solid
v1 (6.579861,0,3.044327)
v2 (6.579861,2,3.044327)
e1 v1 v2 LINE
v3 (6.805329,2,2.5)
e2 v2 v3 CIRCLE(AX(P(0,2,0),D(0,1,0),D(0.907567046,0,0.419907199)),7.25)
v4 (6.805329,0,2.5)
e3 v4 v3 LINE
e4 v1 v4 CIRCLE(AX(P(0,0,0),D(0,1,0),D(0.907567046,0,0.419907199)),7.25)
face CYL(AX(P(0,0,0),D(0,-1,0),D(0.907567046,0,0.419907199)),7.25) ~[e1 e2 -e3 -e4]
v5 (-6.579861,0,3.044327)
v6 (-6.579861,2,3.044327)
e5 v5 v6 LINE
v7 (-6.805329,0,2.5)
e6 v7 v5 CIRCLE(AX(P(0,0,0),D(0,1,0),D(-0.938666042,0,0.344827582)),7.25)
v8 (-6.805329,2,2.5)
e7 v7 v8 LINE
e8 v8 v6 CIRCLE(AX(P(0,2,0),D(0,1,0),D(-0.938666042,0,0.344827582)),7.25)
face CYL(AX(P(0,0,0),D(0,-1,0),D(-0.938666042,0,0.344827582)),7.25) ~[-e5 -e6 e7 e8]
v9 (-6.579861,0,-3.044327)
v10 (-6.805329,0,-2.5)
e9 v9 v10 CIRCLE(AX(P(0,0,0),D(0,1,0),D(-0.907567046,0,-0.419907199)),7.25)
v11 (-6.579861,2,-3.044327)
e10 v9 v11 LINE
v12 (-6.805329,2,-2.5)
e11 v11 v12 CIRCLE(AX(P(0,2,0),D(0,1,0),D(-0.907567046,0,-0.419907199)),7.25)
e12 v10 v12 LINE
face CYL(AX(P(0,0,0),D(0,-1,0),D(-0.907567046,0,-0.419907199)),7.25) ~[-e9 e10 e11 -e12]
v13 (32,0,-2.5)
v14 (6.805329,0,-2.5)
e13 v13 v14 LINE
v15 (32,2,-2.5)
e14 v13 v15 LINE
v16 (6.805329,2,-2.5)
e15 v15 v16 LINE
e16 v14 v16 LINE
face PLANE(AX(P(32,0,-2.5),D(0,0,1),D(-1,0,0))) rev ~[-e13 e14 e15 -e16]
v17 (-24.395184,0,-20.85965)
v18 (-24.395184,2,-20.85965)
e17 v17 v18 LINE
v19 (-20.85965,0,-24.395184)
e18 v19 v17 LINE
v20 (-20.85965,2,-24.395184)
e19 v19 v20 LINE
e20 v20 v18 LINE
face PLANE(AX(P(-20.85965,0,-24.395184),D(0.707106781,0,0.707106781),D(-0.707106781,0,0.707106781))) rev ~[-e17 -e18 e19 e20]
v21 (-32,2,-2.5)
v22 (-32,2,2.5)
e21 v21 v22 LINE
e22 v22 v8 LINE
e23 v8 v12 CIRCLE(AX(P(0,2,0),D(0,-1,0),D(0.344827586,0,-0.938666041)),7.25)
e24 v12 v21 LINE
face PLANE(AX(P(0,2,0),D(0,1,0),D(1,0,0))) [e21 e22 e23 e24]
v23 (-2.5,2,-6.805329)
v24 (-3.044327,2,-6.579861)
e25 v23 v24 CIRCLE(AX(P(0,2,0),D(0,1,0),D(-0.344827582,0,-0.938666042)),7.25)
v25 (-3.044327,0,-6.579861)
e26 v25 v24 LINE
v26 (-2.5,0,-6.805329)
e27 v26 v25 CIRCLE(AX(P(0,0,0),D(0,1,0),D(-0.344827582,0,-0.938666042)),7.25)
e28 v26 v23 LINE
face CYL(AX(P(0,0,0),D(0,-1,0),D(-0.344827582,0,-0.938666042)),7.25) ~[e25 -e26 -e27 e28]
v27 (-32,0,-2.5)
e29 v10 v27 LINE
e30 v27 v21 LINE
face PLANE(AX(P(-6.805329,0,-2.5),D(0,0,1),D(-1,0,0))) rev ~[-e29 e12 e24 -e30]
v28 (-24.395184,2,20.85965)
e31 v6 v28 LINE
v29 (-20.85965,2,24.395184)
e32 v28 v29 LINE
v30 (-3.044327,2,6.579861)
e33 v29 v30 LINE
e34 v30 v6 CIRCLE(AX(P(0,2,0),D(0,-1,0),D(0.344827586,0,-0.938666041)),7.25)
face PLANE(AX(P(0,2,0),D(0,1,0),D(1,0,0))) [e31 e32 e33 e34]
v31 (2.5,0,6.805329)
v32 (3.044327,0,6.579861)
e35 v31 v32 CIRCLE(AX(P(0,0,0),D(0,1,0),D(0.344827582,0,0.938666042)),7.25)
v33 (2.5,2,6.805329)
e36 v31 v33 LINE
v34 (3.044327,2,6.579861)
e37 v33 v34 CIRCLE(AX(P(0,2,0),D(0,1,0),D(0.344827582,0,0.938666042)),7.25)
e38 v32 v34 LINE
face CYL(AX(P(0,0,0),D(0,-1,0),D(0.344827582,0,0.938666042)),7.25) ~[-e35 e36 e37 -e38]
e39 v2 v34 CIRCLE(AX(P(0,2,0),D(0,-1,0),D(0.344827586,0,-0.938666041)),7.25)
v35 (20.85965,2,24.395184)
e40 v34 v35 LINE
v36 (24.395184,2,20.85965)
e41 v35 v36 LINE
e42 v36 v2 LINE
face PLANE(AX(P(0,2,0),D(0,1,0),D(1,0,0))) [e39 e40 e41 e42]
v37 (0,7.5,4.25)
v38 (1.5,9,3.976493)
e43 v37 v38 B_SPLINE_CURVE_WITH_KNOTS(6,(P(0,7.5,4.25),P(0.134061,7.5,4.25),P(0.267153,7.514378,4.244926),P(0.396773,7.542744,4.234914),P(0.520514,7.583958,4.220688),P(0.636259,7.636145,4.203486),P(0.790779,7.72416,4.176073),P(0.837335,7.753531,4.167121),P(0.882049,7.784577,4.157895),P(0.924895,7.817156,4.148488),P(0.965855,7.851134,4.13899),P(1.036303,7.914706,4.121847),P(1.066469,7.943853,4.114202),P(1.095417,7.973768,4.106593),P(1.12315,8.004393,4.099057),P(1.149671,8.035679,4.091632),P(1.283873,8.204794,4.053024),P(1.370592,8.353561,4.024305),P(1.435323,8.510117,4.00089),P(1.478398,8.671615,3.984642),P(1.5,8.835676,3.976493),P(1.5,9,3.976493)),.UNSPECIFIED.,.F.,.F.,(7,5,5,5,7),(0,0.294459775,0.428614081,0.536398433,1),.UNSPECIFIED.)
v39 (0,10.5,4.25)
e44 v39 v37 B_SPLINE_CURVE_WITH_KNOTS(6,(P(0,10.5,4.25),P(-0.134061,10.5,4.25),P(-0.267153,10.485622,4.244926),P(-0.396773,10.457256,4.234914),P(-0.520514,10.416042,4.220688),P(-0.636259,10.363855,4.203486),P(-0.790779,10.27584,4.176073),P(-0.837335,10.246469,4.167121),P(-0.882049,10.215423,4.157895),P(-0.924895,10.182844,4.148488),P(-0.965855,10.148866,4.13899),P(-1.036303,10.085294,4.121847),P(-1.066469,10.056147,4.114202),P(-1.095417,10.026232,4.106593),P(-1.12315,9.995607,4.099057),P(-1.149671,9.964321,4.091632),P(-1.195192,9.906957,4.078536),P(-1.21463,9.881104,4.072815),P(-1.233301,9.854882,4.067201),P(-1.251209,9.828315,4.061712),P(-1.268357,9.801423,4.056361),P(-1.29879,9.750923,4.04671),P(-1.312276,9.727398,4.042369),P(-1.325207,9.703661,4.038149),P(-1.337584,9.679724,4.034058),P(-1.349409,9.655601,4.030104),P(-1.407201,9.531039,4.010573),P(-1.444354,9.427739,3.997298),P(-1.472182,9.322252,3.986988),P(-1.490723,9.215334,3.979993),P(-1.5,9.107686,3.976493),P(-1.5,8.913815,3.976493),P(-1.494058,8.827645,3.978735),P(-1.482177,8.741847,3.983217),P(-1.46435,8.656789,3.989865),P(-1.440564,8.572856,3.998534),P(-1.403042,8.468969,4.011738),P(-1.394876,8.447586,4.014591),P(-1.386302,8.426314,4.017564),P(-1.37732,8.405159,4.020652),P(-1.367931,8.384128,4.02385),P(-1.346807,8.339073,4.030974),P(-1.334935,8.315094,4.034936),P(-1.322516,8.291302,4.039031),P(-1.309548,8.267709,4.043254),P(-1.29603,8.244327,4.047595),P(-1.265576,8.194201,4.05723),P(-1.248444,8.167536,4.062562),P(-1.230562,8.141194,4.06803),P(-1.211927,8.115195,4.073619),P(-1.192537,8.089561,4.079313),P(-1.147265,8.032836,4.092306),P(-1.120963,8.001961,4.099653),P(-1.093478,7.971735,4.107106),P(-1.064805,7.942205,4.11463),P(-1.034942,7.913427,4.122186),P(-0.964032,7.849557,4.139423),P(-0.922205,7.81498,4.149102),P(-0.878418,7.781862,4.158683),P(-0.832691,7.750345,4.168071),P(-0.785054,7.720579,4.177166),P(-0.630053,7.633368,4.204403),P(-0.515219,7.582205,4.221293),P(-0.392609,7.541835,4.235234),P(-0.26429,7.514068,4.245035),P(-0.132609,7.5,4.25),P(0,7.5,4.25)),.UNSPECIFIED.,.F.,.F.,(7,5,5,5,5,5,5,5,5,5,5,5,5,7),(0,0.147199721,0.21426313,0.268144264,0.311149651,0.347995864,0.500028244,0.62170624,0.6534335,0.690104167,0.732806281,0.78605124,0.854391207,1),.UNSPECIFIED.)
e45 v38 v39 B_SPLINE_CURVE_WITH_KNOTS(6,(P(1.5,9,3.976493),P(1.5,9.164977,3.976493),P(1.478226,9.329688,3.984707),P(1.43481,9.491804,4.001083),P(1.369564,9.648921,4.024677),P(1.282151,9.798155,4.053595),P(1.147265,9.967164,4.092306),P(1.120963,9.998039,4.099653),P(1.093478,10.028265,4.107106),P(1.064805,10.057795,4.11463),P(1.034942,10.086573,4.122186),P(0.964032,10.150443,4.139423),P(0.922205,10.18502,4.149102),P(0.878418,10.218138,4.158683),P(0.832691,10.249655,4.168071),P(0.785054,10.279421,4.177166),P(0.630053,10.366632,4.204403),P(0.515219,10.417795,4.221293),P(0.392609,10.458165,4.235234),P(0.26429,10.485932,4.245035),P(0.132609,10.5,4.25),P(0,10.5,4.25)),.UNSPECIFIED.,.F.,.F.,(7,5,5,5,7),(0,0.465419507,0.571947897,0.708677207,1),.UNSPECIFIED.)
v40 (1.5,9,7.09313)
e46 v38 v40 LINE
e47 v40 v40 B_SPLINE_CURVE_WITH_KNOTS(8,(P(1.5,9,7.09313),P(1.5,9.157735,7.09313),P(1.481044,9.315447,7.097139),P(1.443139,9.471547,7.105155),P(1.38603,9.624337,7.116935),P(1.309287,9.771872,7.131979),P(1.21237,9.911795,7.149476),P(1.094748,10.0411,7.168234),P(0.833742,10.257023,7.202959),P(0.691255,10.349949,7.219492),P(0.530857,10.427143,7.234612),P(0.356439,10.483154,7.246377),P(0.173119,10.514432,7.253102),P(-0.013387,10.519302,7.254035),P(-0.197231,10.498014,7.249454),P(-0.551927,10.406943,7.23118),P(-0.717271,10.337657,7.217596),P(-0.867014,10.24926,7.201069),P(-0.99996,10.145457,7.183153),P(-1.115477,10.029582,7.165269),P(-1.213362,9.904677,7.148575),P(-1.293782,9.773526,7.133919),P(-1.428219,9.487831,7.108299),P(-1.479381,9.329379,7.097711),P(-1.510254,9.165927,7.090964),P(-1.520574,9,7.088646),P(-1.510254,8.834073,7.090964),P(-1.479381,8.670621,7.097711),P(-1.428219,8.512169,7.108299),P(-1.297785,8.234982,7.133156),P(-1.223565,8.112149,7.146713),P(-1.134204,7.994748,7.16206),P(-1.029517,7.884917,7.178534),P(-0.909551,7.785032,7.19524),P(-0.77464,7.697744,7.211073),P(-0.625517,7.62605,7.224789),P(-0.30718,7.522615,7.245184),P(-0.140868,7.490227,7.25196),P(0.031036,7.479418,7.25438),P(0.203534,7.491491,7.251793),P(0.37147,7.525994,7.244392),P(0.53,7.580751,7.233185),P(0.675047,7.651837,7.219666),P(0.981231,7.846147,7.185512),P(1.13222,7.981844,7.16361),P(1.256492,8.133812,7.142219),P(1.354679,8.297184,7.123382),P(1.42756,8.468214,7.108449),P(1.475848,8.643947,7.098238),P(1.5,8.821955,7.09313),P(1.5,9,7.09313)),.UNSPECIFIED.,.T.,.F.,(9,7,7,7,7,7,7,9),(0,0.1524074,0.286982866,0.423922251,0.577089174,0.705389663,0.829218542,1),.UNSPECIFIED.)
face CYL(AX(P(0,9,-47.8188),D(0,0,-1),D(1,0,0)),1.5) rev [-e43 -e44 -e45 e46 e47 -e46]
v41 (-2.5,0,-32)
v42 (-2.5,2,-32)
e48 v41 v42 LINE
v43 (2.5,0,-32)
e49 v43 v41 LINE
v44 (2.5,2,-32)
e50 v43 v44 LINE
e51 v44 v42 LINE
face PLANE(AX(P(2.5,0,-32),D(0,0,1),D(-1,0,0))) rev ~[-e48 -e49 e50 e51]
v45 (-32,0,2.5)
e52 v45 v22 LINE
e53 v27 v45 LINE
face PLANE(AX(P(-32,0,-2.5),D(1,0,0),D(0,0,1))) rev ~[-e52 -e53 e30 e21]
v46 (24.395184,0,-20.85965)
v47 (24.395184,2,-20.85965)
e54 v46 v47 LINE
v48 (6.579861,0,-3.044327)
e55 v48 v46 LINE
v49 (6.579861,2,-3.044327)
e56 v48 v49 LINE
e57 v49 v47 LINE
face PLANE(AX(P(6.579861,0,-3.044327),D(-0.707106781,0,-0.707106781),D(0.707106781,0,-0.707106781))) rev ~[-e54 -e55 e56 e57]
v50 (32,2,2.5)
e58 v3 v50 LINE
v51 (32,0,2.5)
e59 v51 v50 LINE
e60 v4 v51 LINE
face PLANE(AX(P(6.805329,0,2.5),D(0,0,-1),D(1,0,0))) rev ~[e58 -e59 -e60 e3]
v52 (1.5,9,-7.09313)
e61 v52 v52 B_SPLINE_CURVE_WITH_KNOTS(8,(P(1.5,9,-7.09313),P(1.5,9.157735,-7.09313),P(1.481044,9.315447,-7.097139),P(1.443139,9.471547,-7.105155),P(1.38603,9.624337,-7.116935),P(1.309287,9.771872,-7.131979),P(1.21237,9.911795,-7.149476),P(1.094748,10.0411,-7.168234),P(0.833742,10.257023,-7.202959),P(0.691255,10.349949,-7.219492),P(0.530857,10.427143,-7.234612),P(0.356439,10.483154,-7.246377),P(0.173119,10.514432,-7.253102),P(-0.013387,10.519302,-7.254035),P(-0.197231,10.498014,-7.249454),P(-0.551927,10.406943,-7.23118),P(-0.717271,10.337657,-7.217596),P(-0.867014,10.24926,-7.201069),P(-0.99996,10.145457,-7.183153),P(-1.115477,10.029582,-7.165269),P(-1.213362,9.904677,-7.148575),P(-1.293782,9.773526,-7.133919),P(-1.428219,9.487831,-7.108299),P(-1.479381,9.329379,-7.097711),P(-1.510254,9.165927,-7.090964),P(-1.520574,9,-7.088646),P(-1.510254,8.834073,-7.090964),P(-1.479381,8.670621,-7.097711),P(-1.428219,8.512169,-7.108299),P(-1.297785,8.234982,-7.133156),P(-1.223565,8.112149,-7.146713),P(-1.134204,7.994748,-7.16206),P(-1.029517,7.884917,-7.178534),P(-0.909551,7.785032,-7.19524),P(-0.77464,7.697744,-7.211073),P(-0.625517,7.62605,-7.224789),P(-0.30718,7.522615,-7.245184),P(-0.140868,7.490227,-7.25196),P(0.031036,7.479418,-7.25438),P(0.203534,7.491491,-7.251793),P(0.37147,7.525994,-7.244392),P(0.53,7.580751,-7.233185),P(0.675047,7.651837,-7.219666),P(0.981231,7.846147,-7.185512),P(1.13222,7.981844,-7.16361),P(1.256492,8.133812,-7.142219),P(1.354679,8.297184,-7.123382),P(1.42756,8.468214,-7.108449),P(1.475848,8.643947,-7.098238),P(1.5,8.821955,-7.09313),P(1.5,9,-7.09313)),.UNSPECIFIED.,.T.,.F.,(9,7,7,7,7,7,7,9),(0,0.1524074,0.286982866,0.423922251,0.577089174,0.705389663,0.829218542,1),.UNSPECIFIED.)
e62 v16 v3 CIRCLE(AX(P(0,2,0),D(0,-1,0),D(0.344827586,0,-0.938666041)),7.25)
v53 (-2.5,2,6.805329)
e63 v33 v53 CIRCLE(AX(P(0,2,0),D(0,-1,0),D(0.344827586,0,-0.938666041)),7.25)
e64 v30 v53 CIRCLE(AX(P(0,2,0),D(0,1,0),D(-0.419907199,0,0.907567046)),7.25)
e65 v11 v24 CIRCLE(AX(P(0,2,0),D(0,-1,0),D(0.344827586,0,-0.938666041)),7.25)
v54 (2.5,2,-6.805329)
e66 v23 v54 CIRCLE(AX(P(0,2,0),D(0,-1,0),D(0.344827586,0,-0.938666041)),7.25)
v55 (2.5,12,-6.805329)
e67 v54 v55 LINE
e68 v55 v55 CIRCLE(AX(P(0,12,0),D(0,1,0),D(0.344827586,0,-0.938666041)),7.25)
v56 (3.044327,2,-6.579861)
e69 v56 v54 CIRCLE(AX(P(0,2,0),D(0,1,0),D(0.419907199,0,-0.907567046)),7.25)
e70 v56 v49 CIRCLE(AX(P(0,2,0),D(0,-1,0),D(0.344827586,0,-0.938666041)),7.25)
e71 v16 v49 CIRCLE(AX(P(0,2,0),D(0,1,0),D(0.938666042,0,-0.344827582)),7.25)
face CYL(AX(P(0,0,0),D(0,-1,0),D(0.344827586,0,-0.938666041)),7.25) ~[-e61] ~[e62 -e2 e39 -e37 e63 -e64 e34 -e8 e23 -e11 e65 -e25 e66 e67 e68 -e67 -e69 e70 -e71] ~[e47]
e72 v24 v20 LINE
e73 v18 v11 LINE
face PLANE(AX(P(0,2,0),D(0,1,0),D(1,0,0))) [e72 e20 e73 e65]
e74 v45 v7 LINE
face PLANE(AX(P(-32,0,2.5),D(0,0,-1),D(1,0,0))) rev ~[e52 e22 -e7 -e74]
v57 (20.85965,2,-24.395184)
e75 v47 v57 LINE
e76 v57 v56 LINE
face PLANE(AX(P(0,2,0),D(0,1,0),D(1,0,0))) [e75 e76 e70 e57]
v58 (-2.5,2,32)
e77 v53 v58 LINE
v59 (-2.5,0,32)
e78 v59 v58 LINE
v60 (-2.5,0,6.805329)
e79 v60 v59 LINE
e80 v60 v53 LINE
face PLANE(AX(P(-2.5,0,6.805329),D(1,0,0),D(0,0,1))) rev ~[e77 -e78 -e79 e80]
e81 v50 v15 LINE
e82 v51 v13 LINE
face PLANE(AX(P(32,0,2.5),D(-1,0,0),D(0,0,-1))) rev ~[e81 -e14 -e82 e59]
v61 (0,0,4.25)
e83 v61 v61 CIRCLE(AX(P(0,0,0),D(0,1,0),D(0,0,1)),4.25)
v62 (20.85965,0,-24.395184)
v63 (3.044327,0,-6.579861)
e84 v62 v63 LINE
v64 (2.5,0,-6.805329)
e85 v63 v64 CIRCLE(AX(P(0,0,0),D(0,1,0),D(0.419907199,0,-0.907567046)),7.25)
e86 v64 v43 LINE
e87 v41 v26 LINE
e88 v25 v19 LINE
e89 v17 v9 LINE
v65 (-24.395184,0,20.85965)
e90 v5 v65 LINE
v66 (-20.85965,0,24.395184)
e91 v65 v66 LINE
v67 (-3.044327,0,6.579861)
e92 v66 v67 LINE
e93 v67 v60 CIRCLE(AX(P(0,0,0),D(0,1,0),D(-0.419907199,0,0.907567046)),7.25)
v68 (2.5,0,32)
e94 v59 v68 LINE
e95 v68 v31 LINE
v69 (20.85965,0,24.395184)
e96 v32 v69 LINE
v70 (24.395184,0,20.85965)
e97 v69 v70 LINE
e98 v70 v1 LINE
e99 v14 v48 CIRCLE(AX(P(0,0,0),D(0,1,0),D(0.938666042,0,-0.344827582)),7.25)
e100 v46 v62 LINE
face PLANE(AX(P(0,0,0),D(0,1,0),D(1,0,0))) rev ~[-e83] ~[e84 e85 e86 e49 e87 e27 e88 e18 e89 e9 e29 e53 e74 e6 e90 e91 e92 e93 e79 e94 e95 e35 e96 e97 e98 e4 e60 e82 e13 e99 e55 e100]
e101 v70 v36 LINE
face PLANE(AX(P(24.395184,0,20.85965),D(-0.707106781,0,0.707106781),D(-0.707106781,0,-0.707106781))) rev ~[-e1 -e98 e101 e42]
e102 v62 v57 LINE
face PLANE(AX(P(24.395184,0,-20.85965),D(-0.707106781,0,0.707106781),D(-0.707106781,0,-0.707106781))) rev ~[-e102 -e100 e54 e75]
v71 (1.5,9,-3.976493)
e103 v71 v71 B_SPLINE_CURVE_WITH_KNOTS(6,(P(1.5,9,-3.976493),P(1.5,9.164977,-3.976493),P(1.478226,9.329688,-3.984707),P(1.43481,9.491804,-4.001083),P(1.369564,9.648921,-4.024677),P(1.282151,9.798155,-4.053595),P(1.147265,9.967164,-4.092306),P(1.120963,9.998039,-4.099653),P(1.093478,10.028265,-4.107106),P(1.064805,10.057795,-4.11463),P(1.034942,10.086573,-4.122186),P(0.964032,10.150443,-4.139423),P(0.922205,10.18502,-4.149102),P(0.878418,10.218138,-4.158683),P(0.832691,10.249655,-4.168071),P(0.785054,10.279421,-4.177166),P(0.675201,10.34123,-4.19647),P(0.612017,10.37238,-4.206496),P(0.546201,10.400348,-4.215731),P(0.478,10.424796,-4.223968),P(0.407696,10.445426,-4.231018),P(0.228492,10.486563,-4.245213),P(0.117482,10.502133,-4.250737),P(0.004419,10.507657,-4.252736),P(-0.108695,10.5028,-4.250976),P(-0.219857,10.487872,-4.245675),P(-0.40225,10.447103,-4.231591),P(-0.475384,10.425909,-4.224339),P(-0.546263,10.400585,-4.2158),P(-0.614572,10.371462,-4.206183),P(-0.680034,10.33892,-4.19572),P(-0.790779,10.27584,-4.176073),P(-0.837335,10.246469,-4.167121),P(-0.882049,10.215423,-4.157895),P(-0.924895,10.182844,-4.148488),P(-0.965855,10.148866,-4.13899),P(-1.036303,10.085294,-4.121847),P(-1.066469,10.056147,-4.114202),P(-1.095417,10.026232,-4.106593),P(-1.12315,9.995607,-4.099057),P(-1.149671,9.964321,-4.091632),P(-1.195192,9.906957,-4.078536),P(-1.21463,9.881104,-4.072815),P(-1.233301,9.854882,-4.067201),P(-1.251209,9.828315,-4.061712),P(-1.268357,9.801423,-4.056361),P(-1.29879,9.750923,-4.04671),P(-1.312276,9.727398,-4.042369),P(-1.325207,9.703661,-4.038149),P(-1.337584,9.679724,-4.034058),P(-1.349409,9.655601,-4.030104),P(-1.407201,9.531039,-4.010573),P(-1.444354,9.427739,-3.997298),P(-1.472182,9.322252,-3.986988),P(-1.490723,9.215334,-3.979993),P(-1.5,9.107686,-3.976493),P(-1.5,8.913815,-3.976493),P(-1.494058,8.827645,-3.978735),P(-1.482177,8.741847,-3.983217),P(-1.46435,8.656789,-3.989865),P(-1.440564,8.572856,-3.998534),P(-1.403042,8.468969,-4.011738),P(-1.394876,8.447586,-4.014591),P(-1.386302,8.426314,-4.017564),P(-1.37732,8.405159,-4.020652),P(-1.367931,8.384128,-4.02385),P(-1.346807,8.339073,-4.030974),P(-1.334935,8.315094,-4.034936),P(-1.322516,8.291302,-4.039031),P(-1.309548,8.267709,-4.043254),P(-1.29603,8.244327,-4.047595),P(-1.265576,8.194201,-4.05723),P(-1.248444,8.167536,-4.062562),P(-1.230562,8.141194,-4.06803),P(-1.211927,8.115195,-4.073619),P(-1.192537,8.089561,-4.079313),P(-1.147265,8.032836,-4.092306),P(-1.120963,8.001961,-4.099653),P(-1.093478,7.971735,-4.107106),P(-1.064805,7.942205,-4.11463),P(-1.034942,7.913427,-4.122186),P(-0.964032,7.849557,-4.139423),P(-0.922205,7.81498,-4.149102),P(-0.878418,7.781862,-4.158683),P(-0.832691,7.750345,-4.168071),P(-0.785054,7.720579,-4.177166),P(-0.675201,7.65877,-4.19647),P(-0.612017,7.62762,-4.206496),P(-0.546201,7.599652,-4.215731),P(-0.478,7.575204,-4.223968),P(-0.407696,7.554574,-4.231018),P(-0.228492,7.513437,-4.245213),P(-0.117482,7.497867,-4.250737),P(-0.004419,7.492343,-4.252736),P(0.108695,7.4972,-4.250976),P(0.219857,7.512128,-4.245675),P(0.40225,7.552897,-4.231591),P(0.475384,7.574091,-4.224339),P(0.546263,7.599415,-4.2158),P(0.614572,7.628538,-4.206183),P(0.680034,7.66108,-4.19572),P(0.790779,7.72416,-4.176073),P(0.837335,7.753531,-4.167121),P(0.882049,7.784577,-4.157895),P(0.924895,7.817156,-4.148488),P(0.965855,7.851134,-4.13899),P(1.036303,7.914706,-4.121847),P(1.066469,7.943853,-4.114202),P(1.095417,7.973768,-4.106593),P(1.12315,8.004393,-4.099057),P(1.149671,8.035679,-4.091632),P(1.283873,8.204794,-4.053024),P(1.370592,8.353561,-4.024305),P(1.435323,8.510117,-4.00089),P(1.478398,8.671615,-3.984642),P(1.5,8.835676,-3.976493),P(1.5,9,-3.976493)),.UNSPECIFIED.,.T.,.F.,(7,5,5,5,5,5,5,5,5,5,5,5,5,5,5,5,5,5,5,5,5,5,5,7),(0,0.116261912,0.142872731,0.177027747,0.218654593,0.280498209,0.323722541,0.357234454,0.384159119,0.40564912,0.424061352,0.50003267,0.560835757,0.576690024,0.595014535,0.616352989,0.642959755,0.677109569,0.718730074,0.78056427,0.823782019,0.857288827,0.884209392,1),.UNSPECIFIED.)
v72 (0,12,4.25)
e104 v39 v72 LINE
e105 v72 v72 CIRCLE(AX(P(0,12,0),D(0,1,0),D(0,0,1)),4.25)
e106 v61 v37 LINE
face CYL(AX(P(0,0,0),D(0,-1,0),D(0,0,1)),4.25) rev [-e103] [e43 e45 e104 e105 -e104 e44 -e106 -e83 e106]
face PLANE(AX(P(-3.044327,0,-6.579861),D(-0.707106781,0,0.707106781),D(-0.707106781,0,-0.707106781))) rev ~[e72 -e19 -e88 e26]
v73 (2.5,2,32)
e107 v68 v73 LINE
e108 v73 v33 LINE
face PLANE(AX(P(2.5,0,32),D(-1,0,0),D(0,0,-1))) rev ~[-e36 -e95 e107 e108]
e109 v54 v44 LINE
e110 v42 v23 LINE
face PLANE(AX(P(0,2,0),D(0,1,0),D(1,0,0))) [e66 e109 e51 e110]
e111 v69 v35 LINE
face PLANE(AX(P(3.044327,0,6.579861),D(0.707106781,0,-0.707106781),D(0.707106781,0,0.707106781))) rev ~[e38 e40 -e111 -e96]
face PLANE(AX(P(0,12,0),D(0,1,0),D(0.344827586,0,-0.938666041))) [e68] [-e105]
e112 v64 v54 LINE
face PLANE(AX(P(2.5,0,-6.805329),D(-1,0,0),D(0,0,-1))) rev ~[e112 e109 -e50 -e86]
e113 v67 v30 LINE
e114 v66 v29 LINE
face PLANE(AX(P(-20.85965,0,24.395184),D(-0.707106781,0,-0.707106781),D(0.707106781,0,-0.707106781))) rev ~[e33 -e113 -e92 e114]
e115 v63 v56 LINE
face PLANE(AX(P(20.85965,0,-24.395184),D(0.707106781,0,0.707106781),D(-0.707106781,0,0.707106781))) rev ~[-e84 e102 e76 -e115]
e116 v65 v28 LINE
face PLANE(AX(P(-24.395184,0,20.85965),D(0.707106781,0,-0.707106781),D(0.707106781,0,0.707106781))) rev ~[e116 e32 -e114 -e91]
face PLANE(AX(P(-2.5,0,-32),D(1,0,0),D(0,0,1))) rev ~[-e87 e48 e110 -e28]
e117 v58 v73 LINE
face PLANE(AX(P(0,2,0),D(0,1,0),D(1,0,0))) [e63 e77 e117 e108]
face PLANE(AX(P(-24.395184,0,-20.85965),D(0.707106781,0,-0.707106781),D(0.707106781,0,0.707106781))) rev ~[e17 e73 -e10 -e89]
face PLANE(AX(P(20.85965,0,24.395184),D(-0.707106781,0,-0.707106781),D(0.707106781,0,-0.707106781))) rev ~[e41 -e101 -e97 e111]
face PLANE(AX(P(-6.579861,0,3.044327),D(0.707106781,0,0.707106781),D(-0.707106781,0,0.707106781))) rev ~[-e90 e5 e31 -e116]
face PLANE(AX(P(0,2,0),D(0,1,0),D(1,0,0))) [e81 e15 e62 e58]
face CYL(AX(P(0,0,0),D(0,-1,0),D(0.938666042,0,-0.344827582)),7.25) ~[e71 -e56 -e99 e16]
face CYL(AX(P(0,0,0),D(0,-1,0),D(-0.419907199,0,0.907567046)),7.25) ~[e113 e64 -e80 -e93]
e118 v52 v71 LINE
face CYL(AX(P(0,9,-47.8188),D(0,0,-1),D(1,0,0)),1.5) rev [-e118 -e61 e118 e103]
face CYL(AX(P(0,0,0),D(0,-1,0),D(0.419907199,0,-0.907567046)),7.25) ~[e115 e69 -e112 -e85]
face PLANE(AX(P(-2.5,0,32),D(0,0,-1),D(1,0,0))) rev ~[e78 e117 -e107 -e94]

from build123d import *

# Parameters (mm, degrees)
SKETCH1_R               = 4.25
BOSS_EXTRUDE1_DEPTH     = 2
SKETCH1_3_R             = 7.25
SKETCH1_3_R_2           = 4.25
BOSS_EXTRUDE2_DEPTH     = 12
CUT_EXTRUDE1_DEPTH      = 47.818799643
CUT_EXTRUDE1_DEPTH_BACK = 47.818799643
SKETCH2_R               = 1.5


with BuildPart() as part:
    # Sketch1 → Boss-Extrude1 (new body)
    with BuildSketch(Plane(origin=(0, 0, 0), x_dir=(1, 0, 0), z_dir=(0, 1, 0))):
        with BuildLine():
            ThreePointArc((-2.5, 6.805328794), (-2.774454885, 6.698126611), (-3.044327186, 6.579861092))
            Line((-3.044327186, 6.579861092), (-20.859650045, 24.395183951))
            Line((-20.859650045, 24.395183951), (-24.395183951, 20.859650045))
            Line((-24.395183951, 20.859650045), (-6.579861092, 3.044327186))
            ThreePointArc((-6.579861092, 3.044327186), (-6.698126611, 2.774454885), (-6.805328794, 2.5))
            Line((-6.805328794, 2.5), (-32, 2.5))
            Line((-32, 2.5), (-32, -2.5))
            Line((-32, -2.5), (-6.805328794, -2.5))
            ThreePointArc((-6.805328794, -2.5), (-6.698126611, -2.774454885), (-6.579861092, -3.044327186))
            Line((-6.579861092, -3.044327186), (-24.395183951, -20.859650045))
            Line((-24.395183951, -20.859650045), (-20.859650045, -24.395183951))
            Line((-20.859650045, -24.395183951), (-3.044327186, -6.579861092))
            ThreePointArc((-3.044327186, -6.579861092), (-2.774454885, -6.698126611), (-2.5, -6.805328794))
            Line((-2.5, -6.805328794), (-2.5, -32))
            Line((-2.5, -32), (2.5, -32))
            Line((2.5, -32), (2.5, -6.805328794))
            ThreePointArc((2.5, -6.805328794), (2.774454885, -6.698126611), (3.044327186, -6.579861092))
            Line((3.044327186, -6.579861092), (20.859650045, -24.395183951))
            Line((20.859650045, -24.395183951), (24.395183951, -20.859650045))
            Line((24.395183951, -20.859650045), (6.579861092, -3.044327186))
            ThreePointArc((6.579861092, -3.044327186), (6.698126611, -2.774454885), (6.805328794, -2.5))
            Line((6.805328794, -2.5), (32, -2.5))
            Line((32, -2.5), (32, 2.5))
            Line((32, 2.5), (6.805328794, 2.5))
            ThreePointArc((6.805328794, 2.5), (6.698126611, 2.774454885), (6.579861092, 3.044327186))
            Line((6.579861092, 3.044327186), (24.395183951, 20.859650045))
            Line((24.395183951, 20.859650045), (20.859650045, 24.395183951))
            Line((20.859650045, 24.395183951), (3.044327186, 6.579861092))
            ThreePointArc((3.044327186, 6.579861092), (2.774454885, 6.698126611), (2.5, 6.805328794))
            Line((2.5, 6.805328794), (2.5, 32))
            Line((2.5, 32), (-2.5, 32))
            Line((-2.5, 32), (-2.5, 6.805328794))
        make_face()
        Circle(SKETCH1_R, mode=Mode.SUBTRACT)
    extrude(amount=BOSS_EXTRUDE1_DEPTH)

    # Sketch1<3> → Boss-Extrude2 (add)
    with BuildSketch(Plane(origin=(0, 0, 0), x_dir=(1, 0, 0), z_dir=(0, 1, 0))):
        Circle(SKETCH1_3_R)
        Circle(SKETCH1_3_R_2, mode=Mode.SUBTRACT)
    extrude(amount=BOSS_EXTRUDE2_DEPTH)

    # Sketch2 → Cut-Extrude1 (cut, two sides: drawn at the far end of the back side and taken through both)
    with BuildSketch(Plane.XY.offset(-CUT_EXTRUDE1_DEPTH_BACK)):
        with Locations((0, 9)):
            Circle(SKETCH2_R)
    extrude(amount=CUT_EXTRUDE1_DEPTH + CUT_EXTRUDE1_DEPTH_BACK, mode=Mode.SUBTRACT)


solid = part.part
